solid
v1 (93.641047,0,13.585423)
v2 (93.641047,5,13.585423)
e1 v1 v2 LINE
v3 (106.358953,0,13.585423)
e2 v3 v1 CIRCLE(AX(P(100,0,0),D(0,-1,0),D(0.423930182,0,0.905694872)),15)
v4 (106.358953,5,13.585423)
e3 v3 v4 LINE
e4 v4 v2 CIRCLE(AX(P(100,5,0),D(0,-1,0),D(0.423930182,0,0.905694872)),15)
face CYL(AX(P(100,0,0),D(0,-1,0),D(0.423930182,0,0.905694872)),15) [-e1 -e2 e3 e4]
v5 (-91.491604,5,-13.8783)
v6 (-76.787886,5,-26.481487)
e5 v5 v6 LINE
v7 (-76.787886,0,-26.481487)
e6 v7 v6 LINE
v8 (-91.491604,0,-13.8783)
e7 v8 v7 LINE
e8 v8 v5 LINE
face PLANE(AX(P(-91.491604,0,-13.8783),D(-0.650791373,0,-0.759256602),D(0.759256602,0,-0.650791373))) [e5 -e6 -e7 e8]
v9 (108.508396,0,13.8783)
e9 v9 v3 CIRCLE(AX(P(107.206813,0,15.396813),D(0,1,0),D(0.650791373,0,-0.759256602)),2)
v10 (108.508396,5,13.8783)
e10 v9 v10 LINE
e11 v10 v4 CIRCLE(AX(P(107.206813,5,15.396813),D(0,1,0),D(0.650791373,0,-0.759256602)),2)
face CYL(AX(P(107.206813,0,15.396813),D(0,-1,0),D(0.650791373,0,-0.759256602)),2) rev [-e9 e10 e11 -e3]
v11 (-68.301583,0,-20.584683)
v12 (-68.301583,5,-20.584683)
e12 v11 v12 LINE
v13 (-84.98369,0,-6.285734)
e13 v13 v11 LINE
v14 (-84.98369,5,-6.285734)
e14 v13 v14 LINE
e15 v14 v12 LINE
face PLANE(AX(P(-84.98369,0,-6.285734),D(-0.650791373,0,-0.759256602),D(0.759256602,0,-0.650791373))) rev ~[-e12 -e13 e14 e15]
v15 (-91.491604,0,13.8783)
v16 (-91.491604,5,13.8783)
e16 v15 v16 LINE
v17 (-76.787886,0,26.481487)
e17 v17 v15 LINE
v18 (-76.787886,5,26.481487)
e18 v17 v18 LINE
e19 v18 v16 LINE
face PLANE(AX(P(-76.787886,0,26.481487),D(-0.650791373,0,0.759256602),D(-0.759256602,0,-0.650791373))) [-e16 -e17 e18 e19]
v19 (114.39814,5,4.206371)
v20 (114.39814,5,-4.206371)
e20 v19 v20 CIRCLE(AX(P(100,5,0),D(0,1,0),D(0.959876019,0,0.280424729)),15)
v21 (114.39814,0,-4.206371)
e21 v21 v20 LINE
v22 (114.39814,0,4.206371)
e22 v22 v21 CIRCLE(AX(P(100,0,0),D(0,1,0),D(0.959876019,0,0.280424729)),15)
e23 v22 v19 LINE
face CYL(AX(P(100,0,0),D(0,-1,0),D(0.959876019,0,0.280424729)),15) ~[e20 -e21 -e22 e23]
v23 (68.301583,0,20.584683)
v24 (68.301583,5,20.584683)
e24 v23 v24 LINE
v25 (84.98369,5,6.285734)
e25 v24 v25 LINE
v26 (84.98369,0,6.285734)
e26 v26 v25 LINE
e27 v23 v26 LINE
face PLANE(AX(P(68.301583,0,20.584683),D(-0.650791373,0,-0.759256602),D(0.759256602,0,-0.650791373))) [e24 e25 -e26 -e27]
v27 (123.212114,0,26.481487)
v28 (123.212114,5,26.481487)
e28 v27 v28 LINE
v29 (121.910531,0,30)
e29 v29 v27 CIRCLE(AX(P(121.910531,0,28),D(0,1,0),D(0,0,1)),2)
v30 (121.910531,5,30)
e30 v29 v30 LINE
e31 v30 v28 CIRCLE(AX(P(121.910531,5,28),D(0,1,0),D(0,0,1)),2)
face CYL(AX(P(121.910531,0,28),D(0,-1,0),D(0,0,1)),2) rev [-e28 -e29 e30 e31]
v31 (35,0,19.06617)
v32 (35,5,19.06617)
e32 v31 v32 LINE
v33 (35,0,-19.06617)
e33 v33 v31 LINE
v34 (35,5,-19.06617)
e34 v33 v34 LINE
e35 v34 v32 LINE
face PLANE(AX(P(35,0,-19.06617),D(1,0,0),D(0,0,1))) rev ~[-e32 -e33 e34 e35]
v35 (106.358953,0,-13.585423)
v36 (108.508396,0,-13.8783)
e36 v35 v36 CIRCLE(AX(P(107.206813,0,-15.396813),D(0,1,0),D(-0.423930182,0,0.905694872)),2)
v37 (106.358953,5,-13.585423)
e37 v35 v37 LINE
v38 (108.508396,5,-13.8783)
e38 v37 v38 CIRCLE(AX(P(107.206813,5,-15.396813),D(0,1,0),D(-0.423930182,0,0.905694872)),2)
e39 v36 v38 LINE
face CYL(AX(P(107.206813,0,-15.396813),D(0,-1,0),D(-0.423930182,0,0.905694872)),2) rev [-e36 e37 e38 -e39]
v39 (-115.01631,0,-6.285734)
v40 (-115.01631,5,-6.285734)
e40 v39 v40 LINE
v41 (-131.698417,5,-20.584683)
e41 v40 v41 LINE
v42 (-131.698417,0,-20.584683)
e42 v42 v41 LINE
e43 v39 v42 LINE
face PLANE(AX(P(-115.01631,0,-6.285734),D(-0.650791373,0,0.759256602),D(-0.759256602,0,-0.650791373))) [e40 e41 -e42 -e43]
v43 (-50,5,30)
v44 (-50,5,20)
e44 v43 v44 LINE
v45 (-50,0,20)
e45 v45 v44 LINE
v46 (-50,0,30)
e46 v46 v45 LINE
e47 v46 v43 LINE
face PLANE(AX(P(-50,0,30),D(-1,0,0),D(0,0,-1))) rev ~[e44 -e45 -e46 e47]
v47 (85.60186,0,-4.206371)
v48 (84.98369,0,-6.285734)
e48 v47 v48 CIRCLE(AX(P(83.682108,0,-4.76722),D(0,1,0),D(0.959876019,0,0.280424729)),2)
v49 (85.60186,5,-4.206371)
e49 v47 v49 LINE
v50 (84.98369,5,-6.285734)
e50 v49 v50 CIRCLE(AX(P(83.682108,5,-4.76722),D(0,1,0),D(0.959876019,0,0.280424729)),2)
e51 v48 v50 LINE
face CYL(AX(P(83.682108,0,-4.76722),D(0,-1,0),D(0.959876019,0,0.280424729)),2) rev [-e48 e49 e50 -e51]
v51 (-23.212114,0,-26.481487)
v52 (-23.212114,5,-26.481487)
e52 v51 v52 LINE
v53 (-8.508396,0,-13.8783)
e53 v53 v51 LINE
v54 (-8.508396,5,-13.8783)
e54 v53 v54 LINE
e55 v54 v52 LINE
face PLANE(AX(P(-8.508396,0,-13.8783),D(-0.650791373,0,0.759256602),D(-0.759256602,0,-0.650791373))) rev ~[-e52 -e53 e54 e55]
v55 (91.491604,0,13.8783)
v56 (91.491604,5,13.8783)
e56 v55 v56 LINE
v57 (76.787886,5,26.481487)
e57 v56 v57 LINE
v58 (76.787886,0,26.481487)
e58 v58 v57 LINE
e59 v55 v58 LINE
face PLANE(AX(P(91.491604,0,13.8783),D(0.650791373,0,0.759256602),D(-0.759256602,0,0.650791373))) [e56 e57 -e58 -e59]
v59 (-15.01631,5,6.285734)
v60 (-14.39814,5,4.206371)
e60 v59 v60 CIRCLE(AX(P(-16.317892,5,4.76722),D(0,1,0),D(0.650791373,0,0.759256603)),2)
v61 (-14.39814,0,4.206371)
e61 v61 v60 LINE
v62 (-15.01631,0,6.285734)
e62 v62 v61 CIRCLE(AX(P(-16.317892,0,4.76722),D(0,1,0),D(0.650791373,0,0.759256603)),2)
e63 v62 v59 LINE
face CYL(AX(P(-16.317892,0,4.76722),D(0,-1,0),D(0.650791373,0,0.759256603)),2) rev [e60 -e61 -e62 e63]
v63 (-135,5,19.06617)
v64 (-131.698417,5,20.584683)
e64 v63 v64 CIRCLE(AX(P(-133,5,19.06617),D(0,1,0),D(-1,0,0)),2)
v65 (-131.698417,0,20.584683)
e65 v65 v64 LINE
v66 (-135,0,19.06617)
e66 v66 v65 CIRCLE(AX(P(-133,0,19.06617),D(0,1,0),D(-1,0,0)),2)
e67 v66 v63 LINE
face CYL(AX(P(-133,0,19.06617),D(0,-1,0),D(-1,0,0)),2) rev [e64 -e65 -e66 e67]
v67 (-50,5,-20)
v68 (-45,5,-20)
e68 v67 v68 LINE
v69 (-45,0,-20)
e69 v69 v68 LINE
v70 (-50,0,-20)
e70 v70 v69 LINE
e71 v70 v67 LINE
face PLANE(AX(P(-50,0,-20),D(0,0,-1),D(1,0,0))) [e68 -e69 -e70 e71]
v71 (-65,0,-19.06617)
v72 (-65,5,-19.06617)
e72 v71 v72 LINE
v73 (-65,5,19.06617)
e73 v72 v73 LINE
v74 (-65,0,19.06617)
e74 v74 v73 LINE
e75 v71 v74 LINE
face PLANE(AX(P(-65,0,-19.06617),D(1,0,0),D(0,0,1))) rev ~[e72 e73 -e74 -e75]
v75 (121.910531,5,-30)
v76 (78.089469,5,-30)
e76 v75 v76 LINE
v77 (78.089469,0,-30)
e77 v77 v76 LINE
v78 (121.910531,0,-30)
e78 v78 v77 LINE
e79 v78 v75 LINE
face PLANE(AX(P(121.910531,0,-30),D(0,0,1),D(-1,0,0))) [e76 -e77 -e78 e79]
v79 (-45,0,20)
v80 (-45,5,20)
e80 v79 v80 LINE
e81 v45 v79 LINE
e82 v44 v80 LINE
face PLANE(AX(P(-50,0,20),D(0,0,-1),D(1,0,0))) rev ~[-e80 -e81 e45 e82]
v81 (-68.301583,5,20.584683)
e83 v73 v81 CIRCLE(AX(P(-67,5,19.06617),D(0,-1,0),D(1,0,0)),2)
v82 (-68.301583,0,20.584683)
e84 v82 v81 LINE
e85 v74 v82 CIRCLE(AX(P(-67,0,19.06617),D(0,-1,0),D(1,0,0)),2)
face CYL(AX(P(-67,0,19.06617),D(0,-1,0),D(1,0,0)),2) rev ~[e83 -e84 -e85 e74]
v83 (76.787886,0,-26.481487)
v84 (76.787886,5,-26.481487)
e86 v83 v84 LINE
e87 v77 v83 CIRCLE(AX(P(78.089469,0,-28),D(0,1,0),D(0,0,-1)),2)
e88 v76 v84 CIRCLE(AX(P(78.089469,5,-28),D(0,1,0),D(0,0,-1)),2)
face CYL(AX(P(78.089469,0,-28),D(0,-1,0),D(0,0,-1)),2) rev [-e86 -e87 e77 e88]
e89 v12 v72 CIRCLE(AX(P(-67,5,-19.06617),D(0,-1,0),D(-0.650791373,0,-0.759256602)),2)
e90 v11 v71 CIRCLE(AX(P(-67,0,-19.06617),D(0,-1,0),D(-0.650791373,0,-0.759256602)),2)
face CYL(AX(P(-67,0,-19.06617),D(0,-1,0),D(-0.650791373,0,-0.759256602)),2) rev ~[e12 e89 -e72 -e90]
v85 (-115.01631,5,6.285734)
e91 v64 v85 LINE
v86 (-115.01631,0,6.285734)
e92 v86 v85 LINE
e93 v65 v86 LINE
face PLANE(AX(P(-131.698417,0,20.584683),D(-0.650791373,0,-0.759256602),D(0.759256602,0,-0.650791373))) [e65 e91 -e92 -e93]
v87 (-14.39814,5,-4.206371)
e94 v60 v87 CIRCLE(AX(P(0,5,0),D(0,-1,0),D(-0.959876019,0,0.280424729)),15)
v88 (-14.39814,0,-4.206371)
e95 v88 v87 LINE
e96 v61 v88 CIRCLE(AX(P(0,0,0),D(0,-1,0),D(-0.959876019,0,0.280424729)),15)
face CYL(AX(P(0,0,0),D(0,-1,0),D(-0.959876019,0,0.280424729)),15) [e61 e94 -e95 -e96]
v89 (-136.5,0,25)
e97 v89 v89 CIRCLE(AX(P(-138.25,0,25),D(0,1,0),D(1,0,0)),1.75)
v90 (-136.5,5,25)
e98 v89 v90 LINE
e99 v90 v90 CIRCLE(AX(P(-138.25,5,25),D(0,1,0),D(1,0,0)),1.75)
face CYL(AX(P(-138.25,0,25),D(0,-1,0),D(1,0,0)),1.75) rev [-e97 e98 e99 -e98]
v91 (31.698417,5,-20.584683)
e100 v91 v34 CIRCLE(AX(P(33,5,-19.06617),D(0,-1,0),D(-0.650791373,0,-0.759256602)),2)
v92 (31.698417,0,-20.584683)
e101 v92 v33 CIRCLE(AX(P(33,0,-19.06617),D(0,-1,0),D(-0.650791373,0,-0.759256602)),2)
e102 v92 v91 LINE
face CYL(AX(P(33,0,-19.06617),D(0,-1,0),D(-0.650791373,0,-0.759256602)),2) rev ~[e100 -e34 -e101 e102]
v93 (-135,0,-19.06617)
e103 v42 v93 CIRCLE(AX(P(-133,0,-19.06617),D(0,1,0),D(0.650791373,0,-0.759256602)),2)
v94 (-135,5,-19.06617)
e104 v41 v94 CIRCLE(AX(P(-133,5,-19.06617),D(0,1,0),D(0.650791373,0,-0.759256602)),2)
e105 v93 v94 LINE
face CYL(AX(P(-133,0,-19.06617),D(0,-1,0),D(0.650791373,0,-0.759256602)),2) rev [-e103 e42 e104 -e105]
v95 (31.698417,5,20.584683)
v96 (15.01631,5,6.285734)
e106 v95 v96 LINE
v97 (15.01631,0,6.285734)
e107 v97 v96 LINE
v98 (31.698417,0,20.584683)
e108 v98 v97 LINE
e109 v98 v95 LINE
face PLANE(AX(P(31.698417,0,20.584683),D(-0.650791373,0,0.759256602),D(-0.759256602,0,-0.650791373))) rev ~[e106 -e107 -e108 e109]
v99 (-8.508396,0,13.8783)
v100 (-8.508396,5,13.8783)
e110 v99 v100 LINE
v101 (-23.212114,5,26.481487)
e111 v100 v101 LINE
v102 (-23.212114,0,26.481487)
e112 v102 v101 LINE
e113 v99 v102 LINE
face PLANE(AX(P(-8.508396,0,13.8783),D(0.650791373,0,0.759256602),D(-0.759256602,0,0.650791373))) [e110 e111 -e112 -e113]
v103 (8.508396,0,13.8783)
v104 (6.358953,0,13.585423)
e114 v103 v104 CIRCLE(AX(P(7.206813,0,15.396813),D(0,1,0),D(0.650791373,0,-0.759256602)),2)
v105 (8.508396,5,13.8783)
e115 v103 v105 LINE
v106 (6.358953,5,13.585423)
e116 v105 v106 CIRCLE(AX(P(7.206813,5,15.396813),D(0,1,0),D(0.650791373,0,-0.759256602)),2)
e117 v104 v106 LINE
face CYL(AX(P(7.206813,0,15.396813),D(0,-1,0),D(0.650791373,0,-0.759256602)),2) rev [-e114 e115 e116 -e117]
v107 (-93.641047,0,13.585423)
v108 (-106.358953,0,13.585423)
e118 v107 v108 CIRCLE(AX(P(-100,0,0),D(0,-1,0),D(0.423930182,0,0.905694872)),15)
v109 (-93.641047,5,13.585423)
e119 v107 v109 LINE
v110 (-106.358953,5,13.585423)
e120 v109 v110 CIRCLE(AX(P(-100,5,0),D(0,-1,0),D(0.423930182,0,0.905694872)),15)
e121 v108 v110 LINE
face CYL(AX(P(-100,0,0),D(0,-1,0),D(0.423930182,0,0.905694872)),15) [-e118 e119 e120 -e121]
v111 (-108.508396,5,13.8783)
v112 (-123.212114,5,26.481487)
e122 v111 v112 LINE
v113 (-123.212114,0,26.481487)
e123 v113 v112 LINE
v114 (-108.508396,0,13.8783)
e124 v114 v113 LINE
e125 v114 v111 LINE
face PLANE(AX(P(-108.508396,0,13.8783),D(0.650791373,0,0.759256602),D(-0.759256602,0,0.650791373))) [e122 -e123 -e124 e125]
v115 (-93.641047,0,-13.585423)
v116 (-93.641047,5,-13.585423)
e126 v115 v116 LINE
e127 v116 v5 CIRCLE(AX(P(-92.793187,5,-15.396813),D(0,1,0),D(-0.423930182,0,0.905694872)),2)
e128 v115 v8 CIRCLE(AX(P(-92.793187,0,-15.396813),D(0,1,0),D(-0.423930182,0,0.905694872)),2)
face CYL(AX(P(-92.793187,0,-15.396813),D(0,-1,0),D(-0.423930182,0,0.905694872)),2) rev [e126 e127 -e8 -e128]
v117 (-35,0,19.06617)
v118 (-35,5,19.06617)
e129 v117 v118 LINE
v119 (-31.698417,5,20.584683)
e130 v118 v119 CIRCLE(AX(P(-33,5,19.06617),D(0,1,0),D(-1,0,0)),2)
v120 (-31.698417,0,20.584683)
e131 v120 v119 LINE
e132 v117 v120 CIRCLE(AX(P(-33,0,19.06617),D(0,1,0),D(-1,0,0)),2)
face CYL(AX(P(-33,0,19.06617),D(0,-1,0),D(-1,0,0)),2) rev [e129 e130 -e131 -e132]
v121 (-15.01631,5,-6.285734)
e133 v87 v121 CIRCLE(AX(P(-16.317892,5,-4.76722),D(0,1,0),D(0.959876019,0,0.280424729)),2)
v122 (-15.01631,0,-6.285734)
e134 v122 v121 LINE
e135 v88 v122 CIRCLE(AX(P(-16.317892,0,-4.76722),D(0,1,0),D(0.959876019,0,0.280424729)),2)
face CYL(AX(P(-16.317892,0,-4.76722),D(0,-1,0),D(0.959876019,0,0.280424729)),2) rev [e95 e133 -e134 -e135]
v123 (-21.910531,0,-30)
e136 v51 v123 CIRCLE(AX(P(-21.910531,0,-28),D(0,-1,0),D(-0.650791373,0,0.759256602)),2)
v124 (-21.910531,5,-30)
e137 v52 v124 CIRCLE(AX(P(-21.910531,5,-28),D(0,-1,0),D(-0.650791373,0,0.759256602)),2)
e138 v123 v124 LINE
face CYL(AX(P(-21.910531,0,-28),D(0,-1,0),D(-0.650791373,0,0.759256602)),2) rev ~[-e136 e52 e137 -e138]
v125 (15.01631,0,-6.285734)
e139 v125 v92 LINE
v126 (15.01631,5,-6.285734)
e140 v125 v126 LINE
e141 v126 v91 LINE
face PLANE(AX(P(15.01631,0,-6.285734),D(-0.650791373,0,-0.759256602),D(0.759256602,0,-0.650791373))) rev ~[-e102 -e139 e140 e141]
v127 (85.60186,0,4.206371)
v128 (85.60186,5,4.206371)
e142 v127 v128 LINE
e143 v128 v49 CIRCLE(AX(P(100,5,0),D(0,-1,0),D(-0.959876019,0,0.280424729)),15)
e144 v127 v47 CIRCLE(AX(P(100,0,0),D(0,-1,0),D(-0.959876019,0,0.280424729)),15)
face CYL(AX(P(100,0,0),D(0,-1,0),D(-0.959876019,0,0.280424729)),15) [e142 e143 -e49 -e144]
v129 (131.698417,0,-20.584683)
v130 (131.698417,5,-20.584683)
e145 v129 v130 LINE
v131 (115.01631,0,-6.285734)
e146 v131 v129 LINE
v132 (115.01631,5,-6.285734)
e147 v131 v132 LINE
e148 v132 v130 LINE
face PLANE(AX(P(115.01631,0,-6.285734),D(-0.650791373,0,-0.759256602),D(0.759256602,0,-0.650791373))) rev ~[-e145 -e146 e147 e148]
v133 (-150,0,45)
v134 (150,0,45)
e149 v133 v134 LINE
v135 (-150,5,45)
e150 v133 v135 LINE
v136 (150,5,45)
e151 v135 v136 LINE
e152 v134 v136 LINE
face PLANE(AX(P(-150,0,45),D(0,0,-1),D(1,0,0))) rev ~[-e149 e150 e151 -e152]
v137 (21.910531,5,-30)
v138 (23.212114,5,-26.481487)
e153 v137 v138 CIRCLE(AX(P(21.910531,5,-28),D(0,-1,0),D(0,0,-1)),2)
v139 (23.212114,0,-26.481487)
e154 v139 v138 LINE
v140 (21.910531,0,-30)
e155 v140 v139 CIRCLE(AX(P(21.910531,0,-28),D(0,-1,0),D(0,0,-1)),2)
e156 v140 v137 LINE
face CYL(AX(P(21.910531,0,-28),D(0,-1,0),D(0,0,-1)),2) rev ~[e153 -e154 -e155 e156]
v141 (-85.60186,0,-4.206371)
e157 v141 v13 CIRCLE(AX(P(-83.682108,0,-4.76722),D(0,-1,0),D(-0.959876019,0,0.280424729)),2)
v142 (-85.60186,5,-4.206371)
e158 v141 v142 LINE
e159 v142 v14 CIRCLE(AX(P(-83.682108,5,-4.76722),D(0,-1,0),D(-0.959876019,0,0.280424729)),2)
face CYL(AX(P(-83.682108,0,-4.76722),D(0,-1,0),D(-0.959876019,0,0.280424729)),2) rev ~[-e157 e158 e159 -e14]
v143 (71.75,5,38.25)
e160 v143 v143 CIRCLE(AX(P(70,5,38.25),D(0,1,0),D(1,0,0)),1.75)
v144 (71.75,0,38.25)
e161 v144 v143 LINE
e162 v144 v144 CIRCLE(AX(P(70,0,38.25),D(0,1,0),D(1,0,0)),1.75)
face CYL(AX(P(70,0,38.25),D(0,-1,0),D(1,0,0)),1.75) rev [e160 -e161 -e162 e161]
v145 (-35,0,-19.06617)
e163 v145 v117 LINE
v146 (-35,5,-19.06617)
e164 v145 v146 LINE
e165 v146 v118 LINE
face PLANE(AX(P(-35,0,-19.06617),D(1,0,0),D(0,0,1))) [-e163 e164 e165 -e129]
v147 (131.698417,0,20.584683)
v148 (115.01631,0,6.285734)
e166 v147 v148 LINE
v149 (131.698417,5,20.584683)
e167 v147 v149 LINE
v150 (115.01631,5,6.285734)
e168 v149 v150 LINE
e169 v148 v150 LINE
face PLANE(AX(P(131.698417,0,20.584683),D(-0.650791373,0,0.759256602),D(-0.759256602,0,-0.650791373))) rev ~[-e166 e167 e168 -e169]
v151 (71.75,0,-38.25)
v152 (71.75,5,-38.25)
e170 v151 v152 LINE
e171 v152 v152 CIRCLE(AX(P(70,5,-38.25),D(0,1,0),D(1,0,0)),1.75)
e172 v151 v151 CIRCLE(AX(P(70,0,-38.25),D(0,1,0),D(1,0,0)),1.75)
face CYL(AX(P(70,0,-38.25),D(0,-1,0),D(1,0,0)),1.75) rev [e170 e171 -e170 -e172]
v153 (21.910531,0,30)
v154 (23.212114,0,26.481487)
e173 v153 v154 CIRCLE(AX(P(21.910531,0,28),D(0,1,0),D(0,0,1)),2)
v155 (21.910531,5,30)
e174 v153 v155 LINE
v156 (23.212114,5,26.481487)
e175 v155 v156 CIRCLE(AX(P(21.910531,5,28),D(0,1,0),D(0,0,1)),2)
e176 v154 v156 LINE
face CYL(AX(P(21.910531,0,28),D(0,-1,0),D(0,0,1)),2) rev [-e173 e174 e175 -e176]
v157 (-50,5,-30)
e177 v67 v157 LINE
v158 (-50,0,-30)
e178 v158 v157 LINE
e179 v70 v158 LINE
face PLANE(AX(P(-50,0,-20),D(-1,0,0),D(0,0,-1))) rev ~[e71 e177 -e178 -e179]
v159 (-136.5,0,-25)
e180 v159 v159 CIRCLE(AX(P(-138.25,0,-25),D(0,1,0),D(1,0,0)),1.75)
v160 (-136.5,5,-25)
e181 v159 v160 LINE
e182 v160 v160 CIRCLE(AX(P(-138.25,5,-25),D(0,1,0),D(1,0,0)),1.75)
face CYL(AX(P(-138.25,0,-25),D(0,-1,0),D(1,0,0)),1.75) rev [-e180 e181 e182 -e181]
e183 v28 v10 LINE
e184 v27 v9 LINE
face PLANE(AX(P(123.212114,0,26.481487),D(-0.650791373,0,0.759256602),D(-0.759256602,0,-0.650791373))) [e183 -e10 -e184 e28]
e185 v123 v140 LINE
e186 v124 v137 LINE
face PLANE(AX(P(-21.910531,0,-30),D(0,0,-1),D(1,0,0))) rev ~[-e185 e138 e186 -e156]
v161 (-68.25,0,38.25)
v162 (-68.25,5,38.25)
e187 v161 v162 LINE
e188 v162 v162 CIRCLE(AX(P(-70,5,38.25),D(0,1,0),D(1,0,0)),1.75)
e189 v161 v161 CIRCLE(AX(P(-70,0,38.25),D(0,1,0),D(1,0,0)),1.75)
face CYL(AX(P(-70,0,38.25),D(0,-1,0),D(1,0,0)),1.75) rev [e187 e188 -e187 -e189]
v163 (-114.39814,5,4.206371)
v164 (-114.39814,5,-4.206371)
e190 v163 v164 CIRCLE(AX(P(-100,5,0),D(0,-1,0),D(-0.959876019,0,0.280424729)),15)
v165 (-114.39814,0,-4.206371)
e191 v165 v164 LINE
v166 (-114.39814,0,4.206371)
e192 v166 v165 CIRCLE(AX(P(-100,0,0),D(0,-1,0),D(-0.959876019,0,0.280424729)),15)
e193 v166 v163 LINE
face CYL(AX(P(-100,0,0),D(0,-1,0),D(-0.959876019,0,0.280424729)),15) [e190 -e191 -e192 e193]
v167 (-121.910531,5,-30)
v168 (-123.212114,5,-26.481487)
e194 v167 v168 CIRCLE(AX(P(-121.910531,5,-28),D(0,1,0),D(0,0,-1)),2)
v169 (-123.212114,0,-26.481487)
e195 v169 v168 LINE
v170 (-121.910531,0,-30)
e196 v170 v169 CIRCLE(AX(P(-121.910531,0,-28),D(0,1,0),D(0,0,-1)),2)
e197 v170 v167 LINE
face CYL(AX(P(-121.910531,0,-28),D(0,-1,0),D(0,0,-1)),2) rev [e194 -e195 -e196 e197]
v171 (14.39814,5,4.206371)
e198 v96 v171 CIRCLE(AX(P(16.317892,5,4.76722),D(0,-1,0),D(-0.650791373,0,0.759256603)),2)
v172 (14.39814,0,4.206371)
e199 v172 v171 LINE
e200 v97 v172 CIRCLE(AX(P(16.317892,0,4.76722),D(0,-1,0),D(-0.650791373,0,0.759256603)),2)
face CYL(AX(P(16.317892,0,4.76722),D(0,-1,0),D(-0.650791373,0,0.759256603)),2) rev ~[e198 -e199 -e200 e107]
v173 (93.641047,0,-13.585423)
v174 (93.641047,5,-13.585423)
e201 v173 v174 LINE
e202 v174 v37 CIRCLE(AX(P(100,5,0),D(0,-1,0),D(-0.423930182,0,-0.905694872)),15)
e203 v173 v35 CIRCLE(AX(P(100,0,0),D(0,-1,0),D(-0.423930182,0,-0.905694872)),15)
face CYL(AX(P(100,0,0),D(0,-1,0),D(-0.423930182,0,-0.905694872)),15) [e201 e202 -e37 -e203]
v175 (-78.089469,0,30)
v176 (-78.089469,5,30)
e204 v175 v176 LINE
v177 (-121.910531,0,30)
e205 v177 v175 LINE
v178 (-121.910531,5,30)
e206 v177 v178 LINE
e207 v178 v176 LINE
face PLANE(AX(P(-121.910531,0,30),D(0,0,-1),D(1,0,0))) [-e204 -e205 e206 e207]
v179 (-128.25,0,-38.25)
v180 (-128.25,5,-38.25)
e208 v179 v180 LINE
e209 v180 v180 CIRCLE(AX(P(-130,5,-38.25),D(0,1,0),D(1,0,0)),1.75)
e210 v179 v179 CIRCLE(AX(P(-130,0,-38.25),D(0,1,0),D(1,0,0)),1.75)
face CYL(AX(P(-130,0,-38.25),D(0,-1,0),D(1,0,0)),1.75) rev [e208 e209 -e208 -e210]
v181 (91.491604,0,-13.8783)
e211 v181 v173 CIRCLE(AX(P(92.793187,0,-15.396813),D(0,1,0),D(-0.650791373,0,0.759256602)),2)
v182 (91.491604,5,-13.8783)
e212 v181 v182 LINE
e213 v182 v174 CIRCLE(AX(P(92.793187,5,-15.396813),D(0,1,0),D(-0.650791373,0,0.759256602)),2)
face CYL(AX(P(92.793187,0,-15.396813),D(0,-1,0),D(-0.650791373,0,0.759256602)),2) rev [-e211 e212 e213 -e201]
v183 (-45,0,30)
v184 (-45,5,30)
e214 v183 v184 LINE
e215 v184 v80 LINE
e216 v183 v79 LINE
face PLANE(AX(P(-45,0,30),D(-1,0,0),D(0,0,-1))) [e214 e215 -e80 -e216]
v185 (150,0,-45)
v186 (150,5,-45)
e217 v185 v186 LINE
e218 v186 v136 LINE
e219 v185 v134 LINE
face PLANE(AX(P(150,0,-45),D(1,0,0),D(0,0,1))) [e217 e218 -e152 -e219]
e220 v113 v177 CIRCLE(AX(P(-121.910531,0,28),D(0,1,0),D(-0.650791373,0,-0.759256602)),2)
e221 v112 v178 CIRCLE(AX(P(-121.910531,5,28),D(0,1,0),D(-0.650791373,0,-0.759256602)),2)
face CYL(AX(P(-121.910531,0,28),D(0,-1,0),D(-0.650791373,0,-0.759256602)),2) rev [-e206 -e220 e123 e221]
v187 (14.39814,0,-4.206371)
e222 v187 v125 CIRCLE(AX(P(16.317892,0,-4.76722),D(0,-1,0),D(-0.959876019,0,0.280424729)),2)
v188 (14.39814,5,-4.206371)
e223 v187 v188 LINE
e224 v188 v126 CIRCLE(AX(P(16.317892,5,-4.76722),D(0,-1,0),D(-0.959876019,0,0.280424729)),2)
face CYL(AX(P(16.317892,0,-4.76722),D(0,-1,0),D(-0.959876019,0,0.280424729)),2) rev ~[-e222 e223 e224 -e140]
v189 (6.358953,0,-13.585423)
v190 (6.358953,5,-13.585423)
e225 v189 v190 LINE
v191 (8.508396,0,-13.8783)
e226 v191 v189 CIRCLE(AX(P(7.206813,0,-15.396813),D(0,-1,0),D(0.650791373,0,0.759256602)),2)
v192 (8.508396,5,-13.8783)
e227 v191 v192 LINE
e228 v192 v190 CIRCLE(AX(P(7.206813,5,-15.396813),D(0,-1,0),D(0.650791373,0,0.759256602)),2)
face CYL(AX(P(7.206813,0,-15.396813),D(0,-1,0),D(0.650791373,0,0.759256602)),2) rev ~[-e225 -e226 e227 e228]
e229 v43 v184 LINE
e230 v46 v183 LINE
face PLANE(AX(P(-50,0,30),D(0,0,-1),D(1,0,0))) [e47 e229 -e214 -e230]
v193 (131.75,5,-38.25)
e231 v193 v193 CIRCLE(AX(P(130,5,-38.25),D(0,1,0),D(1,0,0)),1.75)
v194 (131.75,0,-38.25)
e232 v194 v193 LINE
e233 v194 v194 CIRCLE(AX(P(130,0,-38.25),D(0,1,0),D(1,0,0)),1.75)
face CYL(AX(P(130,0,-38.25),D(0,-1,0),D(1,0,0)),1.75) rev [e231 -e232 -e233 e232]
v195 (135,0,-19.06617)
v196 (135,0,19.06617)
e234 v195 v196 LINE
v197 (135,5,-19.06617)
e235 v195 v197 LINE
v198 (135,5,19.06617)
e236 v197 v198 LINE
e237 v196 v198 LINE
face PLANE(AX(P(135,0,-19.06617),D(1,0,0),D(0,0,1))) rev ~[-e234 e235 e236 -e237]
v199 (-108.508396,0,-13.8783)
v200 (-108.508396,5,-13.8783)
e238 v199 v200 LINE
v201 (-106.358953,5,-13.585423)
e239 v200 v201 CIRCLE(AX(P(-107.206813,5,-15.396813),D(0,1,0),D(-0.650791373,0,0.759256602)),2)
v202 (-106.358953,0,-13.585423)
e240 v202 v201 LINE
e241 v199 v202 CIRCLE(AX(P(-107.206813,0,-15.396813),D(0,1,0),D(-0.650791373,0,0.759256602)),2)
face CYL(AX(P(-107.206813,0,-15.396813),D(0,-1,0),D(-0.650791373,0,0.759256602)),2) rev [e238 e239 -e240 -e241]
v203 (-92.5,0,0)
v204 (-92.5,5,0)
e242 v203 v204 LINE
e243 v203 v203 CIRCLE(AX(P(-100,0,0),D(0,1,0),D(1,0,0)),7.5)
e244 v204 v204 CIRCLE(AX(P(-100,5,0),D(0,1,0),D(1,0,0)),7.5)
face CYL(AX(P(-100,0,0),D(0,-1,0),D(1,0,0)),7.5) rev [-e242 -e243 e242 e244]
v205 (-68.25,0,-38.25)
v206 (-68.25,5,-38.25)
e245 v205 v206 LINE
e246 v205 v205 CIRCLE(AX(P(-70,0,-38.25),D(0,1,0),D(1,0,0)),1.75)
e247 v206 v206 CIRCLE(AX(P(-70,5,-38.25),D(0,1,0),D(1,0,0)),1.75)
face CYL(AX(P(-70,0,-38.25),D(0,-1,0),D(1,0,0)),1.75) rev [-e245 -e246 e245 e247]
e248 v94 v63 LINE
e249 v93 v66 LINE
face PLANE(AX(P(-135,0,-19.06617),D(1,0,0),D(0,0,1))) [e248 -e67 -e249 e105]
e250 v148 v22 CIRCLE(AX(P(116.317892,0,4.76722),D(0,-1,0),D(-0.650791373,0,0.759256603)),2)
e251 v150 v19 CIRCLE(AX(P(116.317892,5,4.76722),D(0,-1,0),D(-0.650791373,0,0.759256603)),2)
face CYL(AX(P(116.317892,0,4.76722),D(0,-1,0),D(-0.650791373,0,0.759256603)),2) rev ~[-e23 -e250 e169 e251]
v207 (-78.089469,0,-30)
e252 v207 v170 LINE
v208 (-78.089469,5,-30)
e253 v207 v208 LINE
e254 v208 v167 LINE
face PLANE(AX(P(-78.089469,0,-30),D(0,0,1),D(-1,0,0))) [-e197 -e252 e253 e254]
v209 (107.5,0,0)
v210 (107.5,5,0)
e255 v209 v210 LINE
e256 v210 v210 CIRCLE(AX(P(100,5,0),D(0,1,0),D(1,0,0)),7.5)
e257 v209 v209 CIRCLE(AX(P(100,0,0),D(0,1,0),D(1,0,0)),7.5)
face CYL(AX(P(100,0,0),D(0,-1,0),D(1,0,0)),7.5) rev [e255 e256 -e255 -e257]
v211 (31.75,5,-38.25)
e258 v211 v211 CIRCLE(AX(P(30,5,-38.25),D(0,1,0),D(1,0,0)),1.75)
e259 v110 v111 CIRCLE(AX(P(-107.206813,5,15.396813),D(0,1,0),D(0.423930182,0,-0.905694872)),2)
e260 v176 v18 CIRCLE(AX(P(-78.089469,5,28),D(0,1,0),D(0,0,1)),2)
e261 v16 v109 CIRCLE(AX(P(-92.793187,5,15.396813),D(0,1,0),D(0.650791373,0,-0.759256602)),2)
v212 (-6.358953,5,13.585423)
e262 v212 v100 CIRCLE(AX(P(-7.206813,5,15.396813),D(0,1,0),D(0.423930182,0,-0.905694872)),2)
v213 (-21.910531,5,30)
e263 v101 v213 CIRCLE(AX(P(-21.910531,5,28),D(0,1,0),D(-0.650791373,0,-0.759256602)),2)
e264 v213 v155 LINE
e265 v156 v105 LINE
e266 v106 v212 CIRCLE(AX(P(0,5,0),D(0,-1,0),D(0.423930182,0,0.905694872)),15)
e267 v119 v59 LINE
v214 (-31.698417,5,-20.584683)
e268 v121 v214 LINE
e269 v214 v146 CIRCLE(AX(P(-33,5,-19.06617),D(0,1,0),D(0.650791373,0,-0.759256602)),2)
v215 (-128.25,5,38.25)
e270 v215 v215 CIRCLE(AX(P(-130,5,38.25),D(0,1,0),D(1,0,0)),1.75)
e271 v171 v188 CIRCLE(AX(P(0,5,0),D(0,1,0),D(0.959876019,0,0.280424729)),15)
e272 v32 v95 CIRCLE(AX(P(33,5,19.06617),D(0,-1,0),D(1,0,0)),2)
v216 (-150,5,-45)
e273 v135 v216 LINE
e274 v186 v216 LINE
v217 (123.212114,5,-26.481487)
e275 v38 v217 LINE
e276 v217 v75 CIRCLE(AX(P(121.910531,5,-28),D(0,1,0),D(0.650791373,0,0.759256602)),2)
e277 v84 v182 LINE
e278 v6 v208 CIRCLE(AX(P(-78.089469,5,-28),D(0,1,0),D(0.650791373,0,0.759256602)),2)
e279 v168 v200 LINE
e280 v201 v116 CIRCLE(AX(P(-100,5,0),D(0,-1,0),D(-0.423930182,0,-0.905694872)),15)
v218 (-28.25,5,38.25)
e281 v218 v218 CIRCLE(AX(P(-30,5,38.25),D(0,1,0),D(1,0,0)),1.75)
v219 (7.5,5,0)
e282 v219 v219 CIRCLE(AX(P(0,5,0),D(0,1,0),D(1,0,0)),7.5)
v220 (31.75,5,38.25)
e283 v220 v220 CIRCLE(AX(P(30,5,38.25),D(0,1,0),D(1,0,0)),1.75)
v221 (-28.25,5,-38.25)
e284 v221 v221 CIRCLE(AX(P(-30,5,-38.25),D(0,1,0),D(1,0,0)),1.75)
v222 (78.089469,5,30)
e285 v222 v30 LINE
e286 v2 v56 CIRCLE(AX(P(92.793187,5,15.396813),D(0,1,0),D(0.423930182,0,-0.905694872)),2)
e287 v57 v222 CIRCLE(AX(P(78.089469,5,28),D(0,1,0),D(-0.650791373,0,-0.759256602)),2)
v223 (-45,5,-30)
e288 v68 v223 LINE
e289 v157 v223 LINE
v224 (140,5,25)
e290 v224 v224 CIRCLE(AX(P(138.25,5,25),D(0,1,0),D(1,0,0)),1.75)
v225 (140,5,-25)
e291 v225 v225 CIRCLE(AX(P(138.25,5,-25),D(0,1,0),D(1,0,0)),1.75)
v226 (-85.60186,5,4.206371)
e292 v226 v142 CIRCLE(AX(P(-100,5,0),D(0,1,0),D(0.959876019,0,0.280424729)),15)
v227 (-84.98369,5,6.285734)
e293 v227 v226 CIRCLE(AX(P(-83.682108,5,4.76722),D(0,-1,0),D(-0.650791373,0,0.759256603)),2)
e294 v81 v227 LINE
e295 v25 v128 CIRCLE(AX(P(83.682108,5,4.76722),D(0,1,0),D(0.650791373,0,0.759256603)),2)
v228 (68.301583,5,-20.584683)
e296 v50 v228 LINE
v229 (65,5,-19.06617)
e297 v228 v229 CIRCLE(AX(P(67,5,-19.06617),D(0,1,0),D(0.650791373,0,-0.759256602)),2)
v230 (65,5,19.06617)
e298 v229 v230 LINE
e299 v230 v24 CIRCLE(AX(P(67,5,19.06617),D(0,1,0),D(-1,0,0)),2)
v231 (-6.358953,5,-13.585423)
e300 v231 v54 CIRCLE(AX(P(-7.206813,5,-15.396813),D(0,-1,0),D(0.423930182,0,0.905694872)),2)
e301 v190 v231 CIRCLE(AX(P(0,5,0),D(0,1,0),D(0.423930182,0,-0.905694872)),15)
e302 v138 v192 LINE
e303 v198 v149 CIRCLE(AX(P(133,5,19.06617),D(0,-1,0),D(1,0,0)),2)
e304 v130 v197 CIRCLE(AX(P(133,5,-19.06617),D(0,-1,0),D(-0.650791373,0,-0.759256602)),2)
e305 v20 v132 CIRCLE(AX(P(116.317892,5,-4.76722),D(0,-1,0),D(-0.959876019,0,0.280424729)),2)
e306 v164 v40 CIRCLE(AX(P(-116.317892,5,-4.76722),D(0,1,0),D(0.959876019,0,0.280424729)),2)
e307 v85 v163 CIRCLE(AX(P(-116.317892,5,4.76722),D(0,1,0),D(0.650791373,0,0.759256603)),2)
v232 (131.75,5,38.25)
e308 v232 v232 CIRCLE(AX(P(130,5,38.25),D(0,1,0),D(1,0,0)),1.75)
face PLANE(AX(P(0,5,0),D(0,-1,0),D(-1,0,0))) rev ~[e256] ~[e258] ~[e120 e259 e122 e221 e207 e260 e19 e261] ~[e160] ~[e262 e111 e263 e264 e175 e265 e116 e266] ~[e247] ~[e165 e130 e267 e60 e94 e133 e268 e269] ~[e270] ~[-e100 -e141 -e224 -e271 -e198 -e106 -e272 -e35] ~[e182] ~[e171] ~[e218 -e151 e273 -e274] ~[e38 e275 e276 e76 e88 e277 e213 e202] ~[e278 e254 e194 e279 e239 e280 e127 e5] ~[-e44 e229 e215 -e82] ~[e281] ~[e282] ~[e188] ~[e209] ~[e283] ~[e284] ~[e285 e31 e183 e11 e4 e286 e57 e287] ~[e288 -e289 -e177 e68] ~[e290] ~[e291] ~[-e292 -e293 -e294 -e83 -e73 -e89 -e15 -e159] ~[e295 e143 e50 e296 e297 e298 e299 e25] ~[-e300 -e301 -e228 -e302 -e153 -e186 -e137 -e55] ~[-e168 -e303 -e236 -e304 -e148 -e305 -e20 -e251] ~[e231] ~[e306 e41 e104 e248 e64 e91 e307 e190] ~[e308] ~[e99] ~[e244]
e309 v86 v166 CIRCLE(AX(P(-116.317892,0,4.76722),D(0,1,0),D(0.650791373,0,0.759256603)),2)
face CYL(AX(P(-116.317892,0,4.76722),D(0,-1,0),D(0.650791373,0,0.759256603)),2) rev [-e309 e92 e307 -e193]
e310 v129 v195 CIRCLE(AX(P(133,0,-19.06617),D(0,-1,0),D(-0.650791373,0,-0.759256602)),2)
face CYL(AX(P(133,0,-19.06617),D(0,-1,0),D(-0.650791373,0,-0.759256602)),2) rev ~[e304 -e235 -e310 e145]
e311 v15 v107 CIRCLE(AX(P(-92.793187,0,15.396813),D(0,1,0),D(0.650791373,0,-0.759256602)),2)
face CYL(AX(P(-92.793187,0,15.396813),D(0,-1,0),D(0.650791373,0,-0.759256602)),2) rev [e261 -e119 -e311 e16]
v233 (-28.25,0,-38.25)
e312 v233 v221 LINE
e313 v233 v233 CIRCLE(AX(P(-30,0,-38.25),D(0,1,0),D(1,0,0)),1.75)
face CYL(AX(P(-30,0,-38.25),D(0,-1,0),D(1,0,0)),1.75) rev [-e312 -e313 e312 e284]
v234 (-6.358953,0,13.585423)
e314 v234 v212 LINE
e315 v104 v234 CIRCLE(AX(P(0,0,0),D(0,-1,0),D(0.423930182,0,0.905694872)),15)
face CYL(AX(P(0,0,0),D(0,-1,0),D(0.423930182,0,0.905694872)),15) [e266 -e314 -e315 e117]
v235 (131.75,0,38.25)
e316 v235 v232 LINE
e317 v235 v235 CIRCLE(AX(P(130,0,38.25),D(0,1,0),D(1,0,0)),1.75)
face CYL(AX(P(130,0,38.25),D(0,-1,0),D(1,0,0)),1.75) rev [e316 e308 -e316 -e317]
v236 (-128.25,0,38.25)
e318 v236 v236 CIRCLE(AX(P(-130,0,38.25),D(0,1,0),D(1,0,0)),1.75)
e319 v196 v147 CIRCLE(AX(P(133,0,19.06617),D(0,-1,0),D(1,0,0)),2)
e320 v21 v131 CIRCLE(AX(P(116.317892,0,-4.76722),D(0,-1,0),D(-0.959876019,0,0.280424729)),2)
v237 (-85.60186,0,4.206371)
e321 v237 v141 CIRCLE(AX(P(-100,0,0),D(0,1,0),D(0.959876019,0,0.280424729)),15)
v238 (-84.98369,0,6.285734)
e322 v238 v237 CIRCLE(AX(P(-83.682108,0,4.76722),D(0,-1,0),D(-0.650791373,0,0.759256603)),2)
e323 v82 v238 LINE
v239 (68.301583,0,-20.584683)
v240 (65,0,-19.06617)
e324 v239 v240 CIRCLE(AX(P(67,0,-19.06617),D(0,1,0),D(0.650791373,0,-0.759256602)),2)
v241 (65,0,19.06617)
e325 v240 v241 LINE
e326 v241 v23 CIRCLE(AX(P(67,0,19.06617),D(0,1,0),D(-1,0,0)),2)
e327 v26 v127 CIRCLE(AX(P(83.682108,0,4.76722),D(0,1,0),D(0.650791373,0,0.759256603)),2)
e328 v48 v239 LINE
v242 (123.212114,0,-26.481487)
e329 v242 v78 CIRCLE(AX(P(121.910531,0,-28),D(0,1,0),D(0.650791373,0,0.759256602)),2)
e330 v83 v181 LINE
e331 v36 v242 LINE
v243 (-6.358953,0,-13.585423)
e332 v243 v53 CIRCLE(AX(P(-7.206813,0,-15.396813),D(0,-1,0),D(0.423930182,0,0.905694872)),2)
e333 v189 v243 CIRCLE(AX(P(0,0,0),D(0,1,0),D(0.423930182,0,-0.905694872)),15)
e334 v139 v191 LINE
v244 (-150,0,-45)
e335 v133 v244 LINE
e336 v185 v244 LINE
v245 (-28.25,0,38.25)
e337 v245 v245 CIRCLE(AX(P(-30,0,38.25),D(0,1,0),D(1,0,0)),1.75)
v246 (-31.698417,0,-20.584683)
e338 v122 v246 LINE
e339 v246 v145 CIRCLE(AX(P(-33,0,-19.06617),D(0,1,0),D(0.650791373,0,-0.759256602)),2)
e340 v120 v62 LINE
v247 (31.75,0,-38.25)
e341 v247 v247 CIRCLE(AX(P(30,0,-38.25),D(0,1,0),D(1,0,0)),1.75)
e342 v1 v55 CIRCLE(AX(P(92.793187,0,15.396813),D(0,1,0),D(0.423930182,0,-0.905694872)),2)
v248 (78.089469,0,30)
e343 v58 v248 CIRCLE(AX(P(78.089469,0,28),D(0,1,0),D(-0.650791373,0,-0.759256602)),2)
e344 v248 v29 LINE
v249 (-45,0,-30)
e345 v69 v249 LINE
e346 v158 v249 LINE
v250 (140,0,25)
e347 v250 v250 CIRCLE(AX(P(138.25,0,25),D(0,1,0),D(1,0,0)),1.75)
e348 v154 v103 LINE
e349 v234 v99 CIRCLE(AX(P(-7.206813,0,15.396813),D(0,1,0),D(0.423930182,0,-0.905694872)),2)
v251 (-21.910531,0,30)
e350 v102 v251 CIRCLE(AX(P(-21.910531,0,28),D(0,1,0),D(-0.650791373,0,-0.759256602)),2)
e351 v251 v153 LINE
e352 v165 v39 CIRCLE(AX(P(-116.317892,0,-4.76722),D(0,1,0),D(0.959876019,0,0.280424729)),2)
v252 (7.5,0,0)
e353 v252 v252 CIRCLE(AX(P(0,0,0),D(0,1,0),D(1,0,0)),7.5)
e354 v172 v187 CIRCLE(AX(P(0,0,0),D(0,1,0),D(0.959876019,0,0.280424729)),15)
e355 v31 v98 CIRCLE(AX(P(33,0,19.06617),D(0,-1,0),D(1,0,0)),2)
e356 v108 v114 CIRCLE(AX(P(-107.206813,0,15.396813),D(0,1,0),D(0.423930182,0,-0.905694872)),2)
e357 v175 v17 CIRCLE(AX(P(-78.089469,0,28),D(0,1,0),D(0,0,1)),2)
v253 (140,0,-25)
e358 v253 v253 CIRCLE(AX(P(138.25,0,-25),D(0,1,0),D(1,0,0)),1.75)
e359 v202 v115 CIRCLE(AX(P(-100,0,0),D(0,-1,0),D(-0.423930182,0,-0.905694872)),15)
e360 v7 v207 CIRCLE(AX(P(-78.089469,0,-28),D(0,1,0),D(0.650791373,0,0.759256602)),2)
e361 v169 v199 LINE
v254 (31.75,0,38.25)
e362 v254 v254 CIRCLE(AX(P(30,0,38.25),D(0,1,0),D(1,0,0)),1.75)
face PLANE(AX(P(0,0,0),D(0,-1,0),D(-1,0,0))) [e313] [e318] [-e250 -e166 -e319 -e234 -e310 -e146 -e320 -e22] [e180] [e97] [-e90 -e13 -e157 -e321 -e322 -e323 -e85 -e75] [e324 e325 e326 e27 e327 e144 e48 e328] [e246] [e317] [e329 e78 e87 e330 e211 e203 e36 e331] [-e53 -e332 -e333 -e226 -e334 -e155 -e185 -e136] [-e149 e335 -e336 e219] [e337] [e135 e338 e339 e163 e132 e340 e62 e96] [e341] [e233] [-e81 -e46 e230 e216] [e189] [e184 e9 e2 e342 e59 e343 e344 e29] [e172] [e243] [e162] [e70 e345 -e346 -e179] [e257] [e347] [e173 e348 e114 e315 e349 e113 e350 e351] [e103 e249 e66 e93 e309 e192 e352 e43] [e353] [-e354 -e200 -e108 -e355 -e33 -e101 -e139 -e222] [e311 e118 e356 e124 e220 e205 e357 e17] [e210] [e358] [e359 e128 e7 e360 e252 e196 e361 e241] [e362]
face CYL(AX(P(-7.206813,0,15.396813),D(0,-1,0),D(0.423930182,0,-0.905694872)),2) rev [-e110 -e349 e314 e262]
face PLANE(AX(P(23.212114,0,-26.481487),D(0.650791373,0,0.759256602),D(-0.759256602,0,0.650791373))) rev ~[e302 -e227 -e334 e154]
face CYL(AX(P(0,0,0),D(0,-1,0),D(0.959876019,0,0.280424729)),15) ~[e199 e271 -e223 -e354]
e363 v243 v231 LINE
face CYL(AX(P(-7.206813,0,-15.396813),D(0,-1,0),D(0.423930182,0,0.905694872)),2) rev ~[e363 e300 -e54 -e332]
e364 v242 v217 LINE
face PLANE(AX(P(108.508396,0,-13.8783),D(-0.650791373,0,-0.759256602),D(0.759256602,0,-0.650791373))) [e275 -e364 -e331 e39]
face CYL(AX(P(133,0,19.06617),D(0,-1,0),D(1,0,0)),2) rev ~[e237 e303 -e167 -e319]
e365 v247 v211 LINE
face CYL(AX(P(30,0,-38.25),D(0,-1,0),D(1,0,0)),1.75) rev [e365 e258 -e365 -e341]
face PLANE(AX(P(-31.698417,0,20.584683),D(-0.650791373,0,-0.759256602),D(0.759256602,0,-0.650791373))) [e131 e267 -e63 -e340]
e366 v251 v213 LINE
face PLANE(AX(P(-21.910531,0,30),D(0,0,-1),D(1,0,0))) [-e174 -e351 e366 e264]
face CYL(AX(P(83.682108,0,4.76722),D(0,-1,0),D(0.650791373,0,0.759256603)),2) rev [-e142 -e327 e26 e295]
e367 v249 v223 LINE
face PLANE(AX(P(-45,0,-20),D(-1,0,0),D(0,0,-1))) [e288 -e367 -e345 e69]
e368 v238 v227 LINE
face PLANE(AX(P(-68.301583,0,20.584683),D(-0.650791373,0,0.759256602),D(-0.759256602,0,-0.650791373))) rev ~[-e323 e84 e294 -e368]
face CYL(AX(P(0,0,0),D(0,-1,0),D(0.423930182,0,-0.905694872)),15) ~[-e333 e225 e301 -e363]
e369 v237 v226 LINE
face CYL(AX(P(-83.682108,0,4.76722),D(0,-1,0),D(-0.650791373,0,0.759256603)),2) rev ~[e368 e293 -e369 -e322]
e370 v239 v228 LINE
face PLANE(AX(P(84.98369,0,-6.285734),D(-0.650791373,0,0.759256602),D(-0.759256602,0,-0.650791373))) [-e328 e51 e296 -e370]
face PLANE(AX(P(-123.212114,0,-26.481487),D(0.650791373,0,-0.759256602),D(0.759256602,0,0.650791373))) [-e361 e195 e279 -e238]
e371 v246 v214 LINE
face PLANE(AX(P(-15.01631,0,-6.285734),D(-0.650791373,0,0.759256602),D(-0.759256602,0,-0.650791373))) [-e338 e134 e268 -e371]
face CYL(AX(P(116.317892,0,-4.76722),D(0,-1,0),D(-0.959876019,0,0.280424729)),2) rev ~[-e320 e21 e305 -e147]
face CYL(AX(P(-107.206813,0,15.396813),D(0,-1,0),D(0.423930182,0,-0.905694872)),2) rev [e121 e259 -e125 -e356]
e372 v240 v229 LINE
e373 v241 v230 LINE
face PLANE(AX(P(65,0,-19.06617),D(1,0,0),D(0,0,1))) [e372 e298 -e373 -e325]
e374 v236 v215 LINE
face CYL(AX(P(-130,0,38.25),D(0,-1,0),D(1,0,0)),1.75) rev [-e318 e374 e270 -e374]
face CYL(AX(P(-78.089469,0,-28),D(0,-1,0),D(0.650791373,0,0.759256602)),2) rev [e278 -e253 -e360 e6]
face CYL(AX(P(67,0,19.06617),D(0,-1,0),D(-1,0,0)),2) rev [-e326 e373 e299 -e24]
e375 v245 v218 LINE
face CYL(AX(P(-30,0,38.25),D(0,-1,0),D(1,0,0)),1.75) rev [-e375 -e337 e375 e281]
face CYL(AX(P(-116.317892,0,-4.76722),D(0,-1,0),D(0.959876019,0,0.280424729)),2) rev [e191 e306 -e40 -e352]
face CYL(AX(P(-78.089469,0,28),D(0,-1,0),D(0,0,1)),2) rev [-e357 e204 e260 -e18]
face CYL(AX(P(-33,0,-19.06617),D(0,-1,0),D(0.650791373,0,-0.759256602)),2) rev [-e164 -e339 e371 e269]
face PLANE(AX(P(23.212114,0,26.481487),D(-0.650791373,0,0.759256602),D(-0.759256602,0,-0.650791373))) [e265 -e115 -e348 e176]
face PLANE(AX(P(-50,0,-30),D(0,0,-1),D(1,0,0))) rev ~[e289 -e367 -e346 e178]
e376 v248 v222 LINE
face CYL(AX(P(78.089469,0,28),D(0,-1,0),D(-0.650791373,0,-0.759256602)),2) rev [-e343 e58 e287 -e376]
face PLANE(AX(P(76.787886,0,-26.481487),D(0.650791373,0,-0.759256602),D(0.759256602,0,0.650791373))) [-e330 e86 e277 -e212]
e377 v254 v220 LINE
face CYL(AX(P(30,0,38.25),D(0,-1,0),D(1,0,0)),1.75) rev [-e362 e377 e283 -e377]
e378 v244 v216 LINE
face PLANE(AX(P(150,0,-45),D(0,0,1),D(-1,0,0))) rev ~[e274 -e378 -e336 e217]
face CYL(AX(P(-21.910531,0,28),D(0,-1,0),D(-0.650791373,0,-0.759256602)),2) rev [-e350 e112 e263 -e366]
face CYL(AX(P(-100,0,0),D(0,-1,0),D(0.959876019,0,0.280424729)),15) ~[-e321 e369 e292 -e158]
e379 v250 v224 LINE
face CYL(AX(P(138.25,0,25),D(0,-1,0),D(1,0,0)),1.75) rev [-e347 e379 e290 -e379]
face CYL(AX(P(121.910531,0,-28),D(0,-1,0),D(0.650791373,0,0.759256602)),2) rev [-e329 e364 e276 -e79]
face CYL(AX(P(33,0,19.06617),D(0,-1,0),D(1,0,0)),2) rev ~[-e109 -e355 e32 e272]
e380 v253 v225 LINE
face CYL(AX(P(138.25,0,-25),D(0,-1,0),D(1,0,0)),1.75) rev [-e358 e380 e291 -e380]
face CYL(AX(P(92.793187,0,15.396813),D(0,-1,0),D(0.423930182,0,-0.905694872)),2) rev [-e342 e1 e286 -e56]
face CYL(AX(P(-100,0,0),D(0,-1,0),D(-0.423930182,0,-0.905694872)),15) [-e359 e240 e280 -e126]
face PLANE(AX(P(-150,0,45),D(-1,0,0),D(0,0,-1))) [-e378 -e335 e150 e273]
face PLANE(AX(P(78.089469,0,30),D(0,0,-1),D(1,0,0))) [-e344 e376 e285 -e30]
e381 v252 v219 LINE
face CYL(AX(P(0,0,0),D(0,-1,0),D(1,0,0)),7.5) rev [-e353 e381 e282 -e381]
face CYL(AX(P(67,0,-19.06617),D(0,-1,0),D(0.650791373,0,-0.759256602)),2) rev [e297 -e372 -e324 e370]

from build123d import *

# Parameters (mm, degrees)
SKETCH1_R           = 7.5
SKETCH1_R_2         = 1.75
SKETCH1_W           = 5
SKETCH1_H           = 10
BOSS_EXTRUDE2_DEPTH = 5


with BuildPart() as part:
    # Sketch1 → Boss-Extrude2 (new body)
    with BuildSketch(Plane(origin=(0, 0, 0), x_dir=(1, 0, 0), z_dir=(0, 1, 0))):
        Polygon((-50, 45), (150, 45), (150, -45), (-50, -45), (-150, -45), (-150, 45), align=None)
        Circle(SKETCH1_R, mode=Mode.SUBTRACT)
        with Locations((100, 0)):
            Circle(SKETCH1_R, mode=Mode.SUBTRACT)
        with Locations((-100, 0)):
            Circle(SKETCH1_R, mode=Mode.SUBTRACT)
        with Locations((-138.25, 25)):
            Circle(SKETCH1_R_2, mode=Mode.SUBTRACT)
        with Locations((-130, 38.25)):
            Circle(SKETCH1_R_2, mode=Mode.SUBTRACT)
        with Locations((-138.25, -25)):
            Circle(SKETCH1_R_2, mode=Mode.SUBTRACT)
        with Locations((-70, 38.25)):
            Circle(SKETCH1_R_2, mode=Mode.SUBTRACT)
        with Locations((-30, 38.25)):
            Circle(SKETCH1_R_2, mode=Mode.SUBTRACT)
        with Locations((30, 38.25)):
            Circle(SKETCH1_R_2, mode=Mode.SUBTRACT)
        with Locations((70, 38.25)):
            Circle(SKETCH1_R_2, mode=Mode.SUBTRACT)
        with Locations((130, 38.25)):
            Circle(SKETCH1_R_2, mode=Mode.SUBTRACT)
        with Locations((-130, -38.25)):
            Circle(SKETCH1_R_2, mode=Mode.SUBTRACT)
        with Locations((-70, -38.25)):
            Circle(SKETCH1_R_2, mode=Mode.SUBTRACT)
        with Locations((-30, -38.25)):
            Circle(SKETCH1_R_2, mode=Mode.SUBTRACT)
        with Locations((30, -38.25)):
            Circle(SKETCH1_R_2, mode=Mode.SUBTRACT)
        with Locations((70, -38.25)):
            Circle(SKETCH1_R_2, mode=Mode.SUBTRACT)
        with Locations((130, -38.25)):
            Circle(SKETCH1_R_2, mode=Mode.SUBTRACT)
        with Locations((138.25, -25)):
            Circle(SKETCH1_R_2, mode=Mode.SUBTRACT)
        with Locations((138.25, 25)):
            Circle(SKETCH1_R_2, mode=Mode.SUBTRACT)
        with BuildLine():
            Line((-21.910531466, 30), (21.910531466, 30))
            ThreePointArc((21.910531466, 30), (23.786301496, 28.693892495), (23.212114213, 26.481486795))
            Line((23.212114213, 26.481486795), (8.508395839, 13.878299617))
            ThreePointArc((8.508395839, 13.878299617), (7.476831919, 13.41512419), (6.358952728, 13.585423078))
            ThreePointArc((6.358952728, 13.585423078), (0, 15), (-6.358952728, 13.585423078))
            ThreePointArc((-6.358952728, 13.585423078), (-7.476831919, 13.41512419), (-8.508395839, 13.878299617))
            Line((-8.508395839, 13.878299617), (-23.212114213, 26.481486795))
            ThreePointArc((-23.212114213, 26.481486795), (-23.786301496, 28.693892495), (-21.910531466, 30))
        make_face(mode=Mode.SUBTRACT)
        with BuildLine():
            Line((-35, 19.066169828), (-35, -19.066169828))
            ThreePointArc((-35, -19.066169828), (-33.835713619, -20.883195625), (-31.698417253, -20.584683033))
            Line((-31.698417253, -20.584683033), (-15.016309573, -6.285733593))
            ThreePointArc((-15.016309573, -6.285733593), (-14.400814669, -5.337144314), (-14.398140282, -4.206370931))
            ThreePointArc((-14.398140282, -4.206370931), (-15, 0), (-14.398140282, 4.206370931))
            ThreePointArc((-14.398140282, 4.206370931), (-14.400814669, 5.337144314), (-15.016309573, 6.285733593))
            Line((-15.016309573, 6.285733593), (-31.698417253, 20.584683033))
            ThreePointArc((-31.698417253, 20.584683033), (-33.835713619, 20.883195625), (-35, 19.066169828))
        make_face(mode=Mode.SUBTRACT)
        with BuildLine():
            Line((-21.910531466, -30), (21.910531466, -30))
            ThreePointArc((21.910531466, -30), (23.786301496, -28.693892495), (23.212114213, -26.481486795))
            Line((23.212114213, -26.481486795), (8.508395839, -13.878299617))
            ThreePointArc((8.508395839, -13.878299617), (7.476831919, -13.41512419), (6.358952728, -13.585423078))
            ThreePointArc((6.358952728, -13.585423078), (0, -15), (-6.358952728, -13.585423078))
            ThreePointArc((-6.358952728, -13.585423078), (-7.476831919, -13.41512419), (-8.508395839, -13.878299617))
            Line((-8.508395839, -13.878299617), (-23.212114213, -26.481486795))
            ThreePointArc((-23.212114213, -26.481486795), (-23.786301496, -28.693892495), (-21.910531466, -30))
        make_face(mode=Mode.SUBTRACT)
        with BuildLine():
            Line((35, 19.066169828), (35, -19.066169828))
            ThreePointArc((35, -19.066169828), (33.835713619, -20.883195625), (31.698417253, -20.584683033))
            Line((31.698417253, -20.584683033), (15.016309573, -6.285733593))
            ThreePointArc((15.016309573, -6.285733593), (14.400814669, -5.337144314), (14.398140282, -4.206370931))
            ThreePointArc((14.398140282, -4.206370931), (15, 0), (14.398140282, 4.206370931))
            ThreePointArc((14.398140282, 4.206370931), (14.400814669, 5.337144314), (15.016309573, 6.285733593))
            Line((15.016309573, 6.285733593), (31.698417253, 20.584683033))
            ThreePointArc((31.698417253, 20.584683033), (33.835713619, 20.883195625), (35, 19.066169828))
        make_face(mode=Mode.SUBTRACT)
        with BuildLine():
            Line((131.698417253, -20.584683033), (115.016309573, -6.285733593))
            ThreePointArc((115.016309573, -6.285733593), (114.400814669, -5.337144314), (114.398140282, -4.206370931))
            ThreePointArc((114.398140282, -4.206370931), (115, 0), (114.398140282, 4.206370931))
            ThreePointArc((114.398140282, 4.206370931), (114.400814669, 5.337144314), (115.016309573, 6.285733593))
            Line((115.016309573, 6.285733593), (131.698417253, 20.584683033))
            ThreePointArc((131.698417253, 20.584683033), (133.835713619, 20.883195625), (135, 19.066169828))
            Line((135, 19.066169828), (135, -19.066169828))
            ThreePointArc((135, -19.066169828), (133.835713619, -20.883195625), (131.698417253, -20.584683033))
        make_face(mode=Mode.SUBTRACT)
        with BuildLine():
            Line((123.212114213, -26.481486795), (108.508395839, -13.878299617))
            ThreePointArc((108.508395839, -13.878299617), (107.476831919, -13.41512419), (106.358952728, -13.585423078))
            ThreePointArc((106.358952728, -13.585423078), (100, -15), (93.641047272, -13.585423078))
            ThreePointArc((93.641047272, -13.585423078), (92.523168081, -13.41512419), (91.491604161, -13.878299617))
            Line((91.491604161, -13.878299617), (76.787885787, -26.481486795))
            ThreePointArc((76.787885787, -26.481486795), (76.213698504, -28.693892495), (78.089468534, -30))
            Line((78.089468534, -30), (121.910531466, -30))
            ThreePointArc((121.910531466, -30), (123.786301496, -28.693892495), (123.212114213, -26.481486795))
        make_face(mode=Mode.SUBTRACT)
        with BuildLine():
            Line((68.301582747, -20.584683033), (84.983690427, -6.285733593))
            ThreePointArc((84.983690427, -6.285733593), (85.599185331, -5.337144314), (85.601859718, -4.206370931))
            ThreePointArc((85.601859718, -4.206370931), (85, 0), (85.601859718, 4.206370931))
            ThreePointArc((85.601859718, 4.206370931), (85.599185331, 5.337144314), (84.983690427, 6.285733593))
            Line((84.983690427, 6.285733593), (68.301582747, 20.584683033))
            ThreePointArc((68.301582747, 20.584683033), (66.164286381, 20.883195625), (65, 19.066169828))
            Line((65, 19.066169828), (65, -19.066169828))
            ThreePointArc((65, -19.066169828), (66.164286381, -20.883195625), (68.301582747, -20.584683033))
        make_face(mode=Mode.SUBTRACT)
        with BuildLine():
            Line((76.787885787, 26.481486795), (91.491604161, 13.878299617))
            ThreePointArc((91.491604161, 13.878299617), (92.523168081, 13.41512419), (93.641047272, 13.585423078))
            ThreePointArc((93.641047272, 13.585423078), (100, 15), (106.358952728, 13.585423078))
            ThreePointArc((106.358952728, 13.585423078), (107.476831919, 13.41512419), (108.508395839, 13.878299617))
            Line((108.508395839, 13.878299617), (123.212114213, 26.481486795))
            ThreePointArc((123.212114213, 26.481486795), (123.786301496, 28.693892495), (121.910531466, 30))
            Line((121.910531466, 30), (78.089468534, 30))
            ThreePointArc((78.089468534, 30), (76.213698504, 28.693892495), (76.787885787, 26.481486795))
        make_face(mode=Mode.SUBTRACT)
        with BuildLine():
            Line((-68.301582747, -20.584683033), (-84.983690427, -6.285733593))
            ThreePointArc((-84.983690427, -6.285733593), (-85.599185331, -5.337144314), (-85.601859718, -4.206370931))
            ThreePointArc((-85.601859718, -4.206370931), (-85, 0), (-85.601859718, 4.206370931))
            ThreePointArc((-85.601859718, 4.206370931), (-85.599185331, 5.337144314), (-84.983690427, 6.285733593))
            Line((-84.983690427, 6.285733593), (-68.301582747, 20.584683033))
            ThreePointArc((-68.301582747, 20.584683033), (-66.164286381, 20.883195625), (-65, 19.066169828))
            Line((-65, 19.066169828), (-65, -19.066169828))
            ThreePointArc((-65, -19.066169828), (-66.164286381, -20.883195625), (-68.301582747, -20.584683033))
        make_face(mode=Mode.SUBTRACT)
        with BuildLine():
            Line((-76.787885787, -26.481486795), (-91.491604161, -13.878299617))
            ThreePointArc((-91.491604161, -13.878299617), (-92.523168081, -13.41512419), (-93.641047272, -13.585423078))
            ThreePointArc((-93.641047272, -13.585423078), (-100, -15), (-106.358952728, -13.585423078))
            ThreePointArc((-106.358952728, -13.585423078), (-107.476831919, -13.41512419), (-108.508395839, -13.878299617))
            Line((-108.508395839, -13.878299617), (-123.212114213, -26.481486795))
            ThreePointArc((-123.212114213, -26.481486795), (-123.786301496, -28.693892495), (-121.910531466, -30))
            Line((-121.910531466, -30), (-78.089468534, -30))
            ThreePointArc((-78.089468534, -30), (-76.213698504, -28.693892495), (-76.787885787, -26.481486795))
        make_face(mode=Mode.SUBTRACT)
        with BuildLine():
            Line((-131.698417253, -20.584683033), (-115.016309573, -6.285733593))
            ThreePointArc((-115.016309573, -6.285733593), (-114.400814669, -5.337144314), (-114.398140282, -4.206370931))
            ThreePointArc((-114.398140282, -4.206370931), (-115, 0), (-114.398140282, 4.206370931))
            ThreePointArc((-114.398140282, 4.206370931), (-114.400814669, 5.337144314), (-115.016309573, 6.285733593))
            Line((-115.016309573, 6.285733593), (-131.698417253, 20.584683033))
            ThreePointArc((-131.698417253, 20.584683033), (-133.835713619, 20.883195625), (-135, 19.066169828))
            Line((-135, 19.066169828), (-135, -19.066169828))
            ThreePointArc((-135, -19.066169828), (-133.835713619, -20.883195625), (-131.698417253, -20.584683033))
        make_face(mode=Mode.SUBTRACT)
        with BuildLine():
            Line((-123.212114213, 26.481486795), (-108.508395839, 13.878299617))
            ThreePointArc((-108.508395839, 13.878299617), (-107.476831919, 13.41512419), (-106.358952728, 13.585423078))
            ThreePointArc((-106.358952728, 13.585423078), (-100, 15), (-93.641047272, 13.585423078))
            ThreePointArc((-93.641047272, 13.585423078), (-92.523168081, 13.41512419), (-91.491604161, 13.878299617))
            Line((-91.491604161, 13.878299617), (-76.787885787, 26.481486795))
            ThreePointArc((-76.787885787, 26.481486795), (-76.213698504, 28.693892495), (-78.089468534, 30))
            Line((-78.089468534, 30), (-121.910531466, 30))
            ThreePointArc((-121.910531466, 30), (-123.786301496, 28.693892495), (-123.212114213, 26.481486795))
        make_face(mode=Mode.SUBTRACT)
        with Locations((-47.5, 25)):
            Rectangle(SKETCH1_W, SKETCH1_H, mode=Mode.SUBTRACT)
        with Locations((-47.5, -25)):
            Rectangle(SKETCH1_W, SKETCH1_H, mode=Mode.SUBTRACT)
    extrude(amount=BOSS_EXTRUDE2_DEPTH)


solid = part.part
